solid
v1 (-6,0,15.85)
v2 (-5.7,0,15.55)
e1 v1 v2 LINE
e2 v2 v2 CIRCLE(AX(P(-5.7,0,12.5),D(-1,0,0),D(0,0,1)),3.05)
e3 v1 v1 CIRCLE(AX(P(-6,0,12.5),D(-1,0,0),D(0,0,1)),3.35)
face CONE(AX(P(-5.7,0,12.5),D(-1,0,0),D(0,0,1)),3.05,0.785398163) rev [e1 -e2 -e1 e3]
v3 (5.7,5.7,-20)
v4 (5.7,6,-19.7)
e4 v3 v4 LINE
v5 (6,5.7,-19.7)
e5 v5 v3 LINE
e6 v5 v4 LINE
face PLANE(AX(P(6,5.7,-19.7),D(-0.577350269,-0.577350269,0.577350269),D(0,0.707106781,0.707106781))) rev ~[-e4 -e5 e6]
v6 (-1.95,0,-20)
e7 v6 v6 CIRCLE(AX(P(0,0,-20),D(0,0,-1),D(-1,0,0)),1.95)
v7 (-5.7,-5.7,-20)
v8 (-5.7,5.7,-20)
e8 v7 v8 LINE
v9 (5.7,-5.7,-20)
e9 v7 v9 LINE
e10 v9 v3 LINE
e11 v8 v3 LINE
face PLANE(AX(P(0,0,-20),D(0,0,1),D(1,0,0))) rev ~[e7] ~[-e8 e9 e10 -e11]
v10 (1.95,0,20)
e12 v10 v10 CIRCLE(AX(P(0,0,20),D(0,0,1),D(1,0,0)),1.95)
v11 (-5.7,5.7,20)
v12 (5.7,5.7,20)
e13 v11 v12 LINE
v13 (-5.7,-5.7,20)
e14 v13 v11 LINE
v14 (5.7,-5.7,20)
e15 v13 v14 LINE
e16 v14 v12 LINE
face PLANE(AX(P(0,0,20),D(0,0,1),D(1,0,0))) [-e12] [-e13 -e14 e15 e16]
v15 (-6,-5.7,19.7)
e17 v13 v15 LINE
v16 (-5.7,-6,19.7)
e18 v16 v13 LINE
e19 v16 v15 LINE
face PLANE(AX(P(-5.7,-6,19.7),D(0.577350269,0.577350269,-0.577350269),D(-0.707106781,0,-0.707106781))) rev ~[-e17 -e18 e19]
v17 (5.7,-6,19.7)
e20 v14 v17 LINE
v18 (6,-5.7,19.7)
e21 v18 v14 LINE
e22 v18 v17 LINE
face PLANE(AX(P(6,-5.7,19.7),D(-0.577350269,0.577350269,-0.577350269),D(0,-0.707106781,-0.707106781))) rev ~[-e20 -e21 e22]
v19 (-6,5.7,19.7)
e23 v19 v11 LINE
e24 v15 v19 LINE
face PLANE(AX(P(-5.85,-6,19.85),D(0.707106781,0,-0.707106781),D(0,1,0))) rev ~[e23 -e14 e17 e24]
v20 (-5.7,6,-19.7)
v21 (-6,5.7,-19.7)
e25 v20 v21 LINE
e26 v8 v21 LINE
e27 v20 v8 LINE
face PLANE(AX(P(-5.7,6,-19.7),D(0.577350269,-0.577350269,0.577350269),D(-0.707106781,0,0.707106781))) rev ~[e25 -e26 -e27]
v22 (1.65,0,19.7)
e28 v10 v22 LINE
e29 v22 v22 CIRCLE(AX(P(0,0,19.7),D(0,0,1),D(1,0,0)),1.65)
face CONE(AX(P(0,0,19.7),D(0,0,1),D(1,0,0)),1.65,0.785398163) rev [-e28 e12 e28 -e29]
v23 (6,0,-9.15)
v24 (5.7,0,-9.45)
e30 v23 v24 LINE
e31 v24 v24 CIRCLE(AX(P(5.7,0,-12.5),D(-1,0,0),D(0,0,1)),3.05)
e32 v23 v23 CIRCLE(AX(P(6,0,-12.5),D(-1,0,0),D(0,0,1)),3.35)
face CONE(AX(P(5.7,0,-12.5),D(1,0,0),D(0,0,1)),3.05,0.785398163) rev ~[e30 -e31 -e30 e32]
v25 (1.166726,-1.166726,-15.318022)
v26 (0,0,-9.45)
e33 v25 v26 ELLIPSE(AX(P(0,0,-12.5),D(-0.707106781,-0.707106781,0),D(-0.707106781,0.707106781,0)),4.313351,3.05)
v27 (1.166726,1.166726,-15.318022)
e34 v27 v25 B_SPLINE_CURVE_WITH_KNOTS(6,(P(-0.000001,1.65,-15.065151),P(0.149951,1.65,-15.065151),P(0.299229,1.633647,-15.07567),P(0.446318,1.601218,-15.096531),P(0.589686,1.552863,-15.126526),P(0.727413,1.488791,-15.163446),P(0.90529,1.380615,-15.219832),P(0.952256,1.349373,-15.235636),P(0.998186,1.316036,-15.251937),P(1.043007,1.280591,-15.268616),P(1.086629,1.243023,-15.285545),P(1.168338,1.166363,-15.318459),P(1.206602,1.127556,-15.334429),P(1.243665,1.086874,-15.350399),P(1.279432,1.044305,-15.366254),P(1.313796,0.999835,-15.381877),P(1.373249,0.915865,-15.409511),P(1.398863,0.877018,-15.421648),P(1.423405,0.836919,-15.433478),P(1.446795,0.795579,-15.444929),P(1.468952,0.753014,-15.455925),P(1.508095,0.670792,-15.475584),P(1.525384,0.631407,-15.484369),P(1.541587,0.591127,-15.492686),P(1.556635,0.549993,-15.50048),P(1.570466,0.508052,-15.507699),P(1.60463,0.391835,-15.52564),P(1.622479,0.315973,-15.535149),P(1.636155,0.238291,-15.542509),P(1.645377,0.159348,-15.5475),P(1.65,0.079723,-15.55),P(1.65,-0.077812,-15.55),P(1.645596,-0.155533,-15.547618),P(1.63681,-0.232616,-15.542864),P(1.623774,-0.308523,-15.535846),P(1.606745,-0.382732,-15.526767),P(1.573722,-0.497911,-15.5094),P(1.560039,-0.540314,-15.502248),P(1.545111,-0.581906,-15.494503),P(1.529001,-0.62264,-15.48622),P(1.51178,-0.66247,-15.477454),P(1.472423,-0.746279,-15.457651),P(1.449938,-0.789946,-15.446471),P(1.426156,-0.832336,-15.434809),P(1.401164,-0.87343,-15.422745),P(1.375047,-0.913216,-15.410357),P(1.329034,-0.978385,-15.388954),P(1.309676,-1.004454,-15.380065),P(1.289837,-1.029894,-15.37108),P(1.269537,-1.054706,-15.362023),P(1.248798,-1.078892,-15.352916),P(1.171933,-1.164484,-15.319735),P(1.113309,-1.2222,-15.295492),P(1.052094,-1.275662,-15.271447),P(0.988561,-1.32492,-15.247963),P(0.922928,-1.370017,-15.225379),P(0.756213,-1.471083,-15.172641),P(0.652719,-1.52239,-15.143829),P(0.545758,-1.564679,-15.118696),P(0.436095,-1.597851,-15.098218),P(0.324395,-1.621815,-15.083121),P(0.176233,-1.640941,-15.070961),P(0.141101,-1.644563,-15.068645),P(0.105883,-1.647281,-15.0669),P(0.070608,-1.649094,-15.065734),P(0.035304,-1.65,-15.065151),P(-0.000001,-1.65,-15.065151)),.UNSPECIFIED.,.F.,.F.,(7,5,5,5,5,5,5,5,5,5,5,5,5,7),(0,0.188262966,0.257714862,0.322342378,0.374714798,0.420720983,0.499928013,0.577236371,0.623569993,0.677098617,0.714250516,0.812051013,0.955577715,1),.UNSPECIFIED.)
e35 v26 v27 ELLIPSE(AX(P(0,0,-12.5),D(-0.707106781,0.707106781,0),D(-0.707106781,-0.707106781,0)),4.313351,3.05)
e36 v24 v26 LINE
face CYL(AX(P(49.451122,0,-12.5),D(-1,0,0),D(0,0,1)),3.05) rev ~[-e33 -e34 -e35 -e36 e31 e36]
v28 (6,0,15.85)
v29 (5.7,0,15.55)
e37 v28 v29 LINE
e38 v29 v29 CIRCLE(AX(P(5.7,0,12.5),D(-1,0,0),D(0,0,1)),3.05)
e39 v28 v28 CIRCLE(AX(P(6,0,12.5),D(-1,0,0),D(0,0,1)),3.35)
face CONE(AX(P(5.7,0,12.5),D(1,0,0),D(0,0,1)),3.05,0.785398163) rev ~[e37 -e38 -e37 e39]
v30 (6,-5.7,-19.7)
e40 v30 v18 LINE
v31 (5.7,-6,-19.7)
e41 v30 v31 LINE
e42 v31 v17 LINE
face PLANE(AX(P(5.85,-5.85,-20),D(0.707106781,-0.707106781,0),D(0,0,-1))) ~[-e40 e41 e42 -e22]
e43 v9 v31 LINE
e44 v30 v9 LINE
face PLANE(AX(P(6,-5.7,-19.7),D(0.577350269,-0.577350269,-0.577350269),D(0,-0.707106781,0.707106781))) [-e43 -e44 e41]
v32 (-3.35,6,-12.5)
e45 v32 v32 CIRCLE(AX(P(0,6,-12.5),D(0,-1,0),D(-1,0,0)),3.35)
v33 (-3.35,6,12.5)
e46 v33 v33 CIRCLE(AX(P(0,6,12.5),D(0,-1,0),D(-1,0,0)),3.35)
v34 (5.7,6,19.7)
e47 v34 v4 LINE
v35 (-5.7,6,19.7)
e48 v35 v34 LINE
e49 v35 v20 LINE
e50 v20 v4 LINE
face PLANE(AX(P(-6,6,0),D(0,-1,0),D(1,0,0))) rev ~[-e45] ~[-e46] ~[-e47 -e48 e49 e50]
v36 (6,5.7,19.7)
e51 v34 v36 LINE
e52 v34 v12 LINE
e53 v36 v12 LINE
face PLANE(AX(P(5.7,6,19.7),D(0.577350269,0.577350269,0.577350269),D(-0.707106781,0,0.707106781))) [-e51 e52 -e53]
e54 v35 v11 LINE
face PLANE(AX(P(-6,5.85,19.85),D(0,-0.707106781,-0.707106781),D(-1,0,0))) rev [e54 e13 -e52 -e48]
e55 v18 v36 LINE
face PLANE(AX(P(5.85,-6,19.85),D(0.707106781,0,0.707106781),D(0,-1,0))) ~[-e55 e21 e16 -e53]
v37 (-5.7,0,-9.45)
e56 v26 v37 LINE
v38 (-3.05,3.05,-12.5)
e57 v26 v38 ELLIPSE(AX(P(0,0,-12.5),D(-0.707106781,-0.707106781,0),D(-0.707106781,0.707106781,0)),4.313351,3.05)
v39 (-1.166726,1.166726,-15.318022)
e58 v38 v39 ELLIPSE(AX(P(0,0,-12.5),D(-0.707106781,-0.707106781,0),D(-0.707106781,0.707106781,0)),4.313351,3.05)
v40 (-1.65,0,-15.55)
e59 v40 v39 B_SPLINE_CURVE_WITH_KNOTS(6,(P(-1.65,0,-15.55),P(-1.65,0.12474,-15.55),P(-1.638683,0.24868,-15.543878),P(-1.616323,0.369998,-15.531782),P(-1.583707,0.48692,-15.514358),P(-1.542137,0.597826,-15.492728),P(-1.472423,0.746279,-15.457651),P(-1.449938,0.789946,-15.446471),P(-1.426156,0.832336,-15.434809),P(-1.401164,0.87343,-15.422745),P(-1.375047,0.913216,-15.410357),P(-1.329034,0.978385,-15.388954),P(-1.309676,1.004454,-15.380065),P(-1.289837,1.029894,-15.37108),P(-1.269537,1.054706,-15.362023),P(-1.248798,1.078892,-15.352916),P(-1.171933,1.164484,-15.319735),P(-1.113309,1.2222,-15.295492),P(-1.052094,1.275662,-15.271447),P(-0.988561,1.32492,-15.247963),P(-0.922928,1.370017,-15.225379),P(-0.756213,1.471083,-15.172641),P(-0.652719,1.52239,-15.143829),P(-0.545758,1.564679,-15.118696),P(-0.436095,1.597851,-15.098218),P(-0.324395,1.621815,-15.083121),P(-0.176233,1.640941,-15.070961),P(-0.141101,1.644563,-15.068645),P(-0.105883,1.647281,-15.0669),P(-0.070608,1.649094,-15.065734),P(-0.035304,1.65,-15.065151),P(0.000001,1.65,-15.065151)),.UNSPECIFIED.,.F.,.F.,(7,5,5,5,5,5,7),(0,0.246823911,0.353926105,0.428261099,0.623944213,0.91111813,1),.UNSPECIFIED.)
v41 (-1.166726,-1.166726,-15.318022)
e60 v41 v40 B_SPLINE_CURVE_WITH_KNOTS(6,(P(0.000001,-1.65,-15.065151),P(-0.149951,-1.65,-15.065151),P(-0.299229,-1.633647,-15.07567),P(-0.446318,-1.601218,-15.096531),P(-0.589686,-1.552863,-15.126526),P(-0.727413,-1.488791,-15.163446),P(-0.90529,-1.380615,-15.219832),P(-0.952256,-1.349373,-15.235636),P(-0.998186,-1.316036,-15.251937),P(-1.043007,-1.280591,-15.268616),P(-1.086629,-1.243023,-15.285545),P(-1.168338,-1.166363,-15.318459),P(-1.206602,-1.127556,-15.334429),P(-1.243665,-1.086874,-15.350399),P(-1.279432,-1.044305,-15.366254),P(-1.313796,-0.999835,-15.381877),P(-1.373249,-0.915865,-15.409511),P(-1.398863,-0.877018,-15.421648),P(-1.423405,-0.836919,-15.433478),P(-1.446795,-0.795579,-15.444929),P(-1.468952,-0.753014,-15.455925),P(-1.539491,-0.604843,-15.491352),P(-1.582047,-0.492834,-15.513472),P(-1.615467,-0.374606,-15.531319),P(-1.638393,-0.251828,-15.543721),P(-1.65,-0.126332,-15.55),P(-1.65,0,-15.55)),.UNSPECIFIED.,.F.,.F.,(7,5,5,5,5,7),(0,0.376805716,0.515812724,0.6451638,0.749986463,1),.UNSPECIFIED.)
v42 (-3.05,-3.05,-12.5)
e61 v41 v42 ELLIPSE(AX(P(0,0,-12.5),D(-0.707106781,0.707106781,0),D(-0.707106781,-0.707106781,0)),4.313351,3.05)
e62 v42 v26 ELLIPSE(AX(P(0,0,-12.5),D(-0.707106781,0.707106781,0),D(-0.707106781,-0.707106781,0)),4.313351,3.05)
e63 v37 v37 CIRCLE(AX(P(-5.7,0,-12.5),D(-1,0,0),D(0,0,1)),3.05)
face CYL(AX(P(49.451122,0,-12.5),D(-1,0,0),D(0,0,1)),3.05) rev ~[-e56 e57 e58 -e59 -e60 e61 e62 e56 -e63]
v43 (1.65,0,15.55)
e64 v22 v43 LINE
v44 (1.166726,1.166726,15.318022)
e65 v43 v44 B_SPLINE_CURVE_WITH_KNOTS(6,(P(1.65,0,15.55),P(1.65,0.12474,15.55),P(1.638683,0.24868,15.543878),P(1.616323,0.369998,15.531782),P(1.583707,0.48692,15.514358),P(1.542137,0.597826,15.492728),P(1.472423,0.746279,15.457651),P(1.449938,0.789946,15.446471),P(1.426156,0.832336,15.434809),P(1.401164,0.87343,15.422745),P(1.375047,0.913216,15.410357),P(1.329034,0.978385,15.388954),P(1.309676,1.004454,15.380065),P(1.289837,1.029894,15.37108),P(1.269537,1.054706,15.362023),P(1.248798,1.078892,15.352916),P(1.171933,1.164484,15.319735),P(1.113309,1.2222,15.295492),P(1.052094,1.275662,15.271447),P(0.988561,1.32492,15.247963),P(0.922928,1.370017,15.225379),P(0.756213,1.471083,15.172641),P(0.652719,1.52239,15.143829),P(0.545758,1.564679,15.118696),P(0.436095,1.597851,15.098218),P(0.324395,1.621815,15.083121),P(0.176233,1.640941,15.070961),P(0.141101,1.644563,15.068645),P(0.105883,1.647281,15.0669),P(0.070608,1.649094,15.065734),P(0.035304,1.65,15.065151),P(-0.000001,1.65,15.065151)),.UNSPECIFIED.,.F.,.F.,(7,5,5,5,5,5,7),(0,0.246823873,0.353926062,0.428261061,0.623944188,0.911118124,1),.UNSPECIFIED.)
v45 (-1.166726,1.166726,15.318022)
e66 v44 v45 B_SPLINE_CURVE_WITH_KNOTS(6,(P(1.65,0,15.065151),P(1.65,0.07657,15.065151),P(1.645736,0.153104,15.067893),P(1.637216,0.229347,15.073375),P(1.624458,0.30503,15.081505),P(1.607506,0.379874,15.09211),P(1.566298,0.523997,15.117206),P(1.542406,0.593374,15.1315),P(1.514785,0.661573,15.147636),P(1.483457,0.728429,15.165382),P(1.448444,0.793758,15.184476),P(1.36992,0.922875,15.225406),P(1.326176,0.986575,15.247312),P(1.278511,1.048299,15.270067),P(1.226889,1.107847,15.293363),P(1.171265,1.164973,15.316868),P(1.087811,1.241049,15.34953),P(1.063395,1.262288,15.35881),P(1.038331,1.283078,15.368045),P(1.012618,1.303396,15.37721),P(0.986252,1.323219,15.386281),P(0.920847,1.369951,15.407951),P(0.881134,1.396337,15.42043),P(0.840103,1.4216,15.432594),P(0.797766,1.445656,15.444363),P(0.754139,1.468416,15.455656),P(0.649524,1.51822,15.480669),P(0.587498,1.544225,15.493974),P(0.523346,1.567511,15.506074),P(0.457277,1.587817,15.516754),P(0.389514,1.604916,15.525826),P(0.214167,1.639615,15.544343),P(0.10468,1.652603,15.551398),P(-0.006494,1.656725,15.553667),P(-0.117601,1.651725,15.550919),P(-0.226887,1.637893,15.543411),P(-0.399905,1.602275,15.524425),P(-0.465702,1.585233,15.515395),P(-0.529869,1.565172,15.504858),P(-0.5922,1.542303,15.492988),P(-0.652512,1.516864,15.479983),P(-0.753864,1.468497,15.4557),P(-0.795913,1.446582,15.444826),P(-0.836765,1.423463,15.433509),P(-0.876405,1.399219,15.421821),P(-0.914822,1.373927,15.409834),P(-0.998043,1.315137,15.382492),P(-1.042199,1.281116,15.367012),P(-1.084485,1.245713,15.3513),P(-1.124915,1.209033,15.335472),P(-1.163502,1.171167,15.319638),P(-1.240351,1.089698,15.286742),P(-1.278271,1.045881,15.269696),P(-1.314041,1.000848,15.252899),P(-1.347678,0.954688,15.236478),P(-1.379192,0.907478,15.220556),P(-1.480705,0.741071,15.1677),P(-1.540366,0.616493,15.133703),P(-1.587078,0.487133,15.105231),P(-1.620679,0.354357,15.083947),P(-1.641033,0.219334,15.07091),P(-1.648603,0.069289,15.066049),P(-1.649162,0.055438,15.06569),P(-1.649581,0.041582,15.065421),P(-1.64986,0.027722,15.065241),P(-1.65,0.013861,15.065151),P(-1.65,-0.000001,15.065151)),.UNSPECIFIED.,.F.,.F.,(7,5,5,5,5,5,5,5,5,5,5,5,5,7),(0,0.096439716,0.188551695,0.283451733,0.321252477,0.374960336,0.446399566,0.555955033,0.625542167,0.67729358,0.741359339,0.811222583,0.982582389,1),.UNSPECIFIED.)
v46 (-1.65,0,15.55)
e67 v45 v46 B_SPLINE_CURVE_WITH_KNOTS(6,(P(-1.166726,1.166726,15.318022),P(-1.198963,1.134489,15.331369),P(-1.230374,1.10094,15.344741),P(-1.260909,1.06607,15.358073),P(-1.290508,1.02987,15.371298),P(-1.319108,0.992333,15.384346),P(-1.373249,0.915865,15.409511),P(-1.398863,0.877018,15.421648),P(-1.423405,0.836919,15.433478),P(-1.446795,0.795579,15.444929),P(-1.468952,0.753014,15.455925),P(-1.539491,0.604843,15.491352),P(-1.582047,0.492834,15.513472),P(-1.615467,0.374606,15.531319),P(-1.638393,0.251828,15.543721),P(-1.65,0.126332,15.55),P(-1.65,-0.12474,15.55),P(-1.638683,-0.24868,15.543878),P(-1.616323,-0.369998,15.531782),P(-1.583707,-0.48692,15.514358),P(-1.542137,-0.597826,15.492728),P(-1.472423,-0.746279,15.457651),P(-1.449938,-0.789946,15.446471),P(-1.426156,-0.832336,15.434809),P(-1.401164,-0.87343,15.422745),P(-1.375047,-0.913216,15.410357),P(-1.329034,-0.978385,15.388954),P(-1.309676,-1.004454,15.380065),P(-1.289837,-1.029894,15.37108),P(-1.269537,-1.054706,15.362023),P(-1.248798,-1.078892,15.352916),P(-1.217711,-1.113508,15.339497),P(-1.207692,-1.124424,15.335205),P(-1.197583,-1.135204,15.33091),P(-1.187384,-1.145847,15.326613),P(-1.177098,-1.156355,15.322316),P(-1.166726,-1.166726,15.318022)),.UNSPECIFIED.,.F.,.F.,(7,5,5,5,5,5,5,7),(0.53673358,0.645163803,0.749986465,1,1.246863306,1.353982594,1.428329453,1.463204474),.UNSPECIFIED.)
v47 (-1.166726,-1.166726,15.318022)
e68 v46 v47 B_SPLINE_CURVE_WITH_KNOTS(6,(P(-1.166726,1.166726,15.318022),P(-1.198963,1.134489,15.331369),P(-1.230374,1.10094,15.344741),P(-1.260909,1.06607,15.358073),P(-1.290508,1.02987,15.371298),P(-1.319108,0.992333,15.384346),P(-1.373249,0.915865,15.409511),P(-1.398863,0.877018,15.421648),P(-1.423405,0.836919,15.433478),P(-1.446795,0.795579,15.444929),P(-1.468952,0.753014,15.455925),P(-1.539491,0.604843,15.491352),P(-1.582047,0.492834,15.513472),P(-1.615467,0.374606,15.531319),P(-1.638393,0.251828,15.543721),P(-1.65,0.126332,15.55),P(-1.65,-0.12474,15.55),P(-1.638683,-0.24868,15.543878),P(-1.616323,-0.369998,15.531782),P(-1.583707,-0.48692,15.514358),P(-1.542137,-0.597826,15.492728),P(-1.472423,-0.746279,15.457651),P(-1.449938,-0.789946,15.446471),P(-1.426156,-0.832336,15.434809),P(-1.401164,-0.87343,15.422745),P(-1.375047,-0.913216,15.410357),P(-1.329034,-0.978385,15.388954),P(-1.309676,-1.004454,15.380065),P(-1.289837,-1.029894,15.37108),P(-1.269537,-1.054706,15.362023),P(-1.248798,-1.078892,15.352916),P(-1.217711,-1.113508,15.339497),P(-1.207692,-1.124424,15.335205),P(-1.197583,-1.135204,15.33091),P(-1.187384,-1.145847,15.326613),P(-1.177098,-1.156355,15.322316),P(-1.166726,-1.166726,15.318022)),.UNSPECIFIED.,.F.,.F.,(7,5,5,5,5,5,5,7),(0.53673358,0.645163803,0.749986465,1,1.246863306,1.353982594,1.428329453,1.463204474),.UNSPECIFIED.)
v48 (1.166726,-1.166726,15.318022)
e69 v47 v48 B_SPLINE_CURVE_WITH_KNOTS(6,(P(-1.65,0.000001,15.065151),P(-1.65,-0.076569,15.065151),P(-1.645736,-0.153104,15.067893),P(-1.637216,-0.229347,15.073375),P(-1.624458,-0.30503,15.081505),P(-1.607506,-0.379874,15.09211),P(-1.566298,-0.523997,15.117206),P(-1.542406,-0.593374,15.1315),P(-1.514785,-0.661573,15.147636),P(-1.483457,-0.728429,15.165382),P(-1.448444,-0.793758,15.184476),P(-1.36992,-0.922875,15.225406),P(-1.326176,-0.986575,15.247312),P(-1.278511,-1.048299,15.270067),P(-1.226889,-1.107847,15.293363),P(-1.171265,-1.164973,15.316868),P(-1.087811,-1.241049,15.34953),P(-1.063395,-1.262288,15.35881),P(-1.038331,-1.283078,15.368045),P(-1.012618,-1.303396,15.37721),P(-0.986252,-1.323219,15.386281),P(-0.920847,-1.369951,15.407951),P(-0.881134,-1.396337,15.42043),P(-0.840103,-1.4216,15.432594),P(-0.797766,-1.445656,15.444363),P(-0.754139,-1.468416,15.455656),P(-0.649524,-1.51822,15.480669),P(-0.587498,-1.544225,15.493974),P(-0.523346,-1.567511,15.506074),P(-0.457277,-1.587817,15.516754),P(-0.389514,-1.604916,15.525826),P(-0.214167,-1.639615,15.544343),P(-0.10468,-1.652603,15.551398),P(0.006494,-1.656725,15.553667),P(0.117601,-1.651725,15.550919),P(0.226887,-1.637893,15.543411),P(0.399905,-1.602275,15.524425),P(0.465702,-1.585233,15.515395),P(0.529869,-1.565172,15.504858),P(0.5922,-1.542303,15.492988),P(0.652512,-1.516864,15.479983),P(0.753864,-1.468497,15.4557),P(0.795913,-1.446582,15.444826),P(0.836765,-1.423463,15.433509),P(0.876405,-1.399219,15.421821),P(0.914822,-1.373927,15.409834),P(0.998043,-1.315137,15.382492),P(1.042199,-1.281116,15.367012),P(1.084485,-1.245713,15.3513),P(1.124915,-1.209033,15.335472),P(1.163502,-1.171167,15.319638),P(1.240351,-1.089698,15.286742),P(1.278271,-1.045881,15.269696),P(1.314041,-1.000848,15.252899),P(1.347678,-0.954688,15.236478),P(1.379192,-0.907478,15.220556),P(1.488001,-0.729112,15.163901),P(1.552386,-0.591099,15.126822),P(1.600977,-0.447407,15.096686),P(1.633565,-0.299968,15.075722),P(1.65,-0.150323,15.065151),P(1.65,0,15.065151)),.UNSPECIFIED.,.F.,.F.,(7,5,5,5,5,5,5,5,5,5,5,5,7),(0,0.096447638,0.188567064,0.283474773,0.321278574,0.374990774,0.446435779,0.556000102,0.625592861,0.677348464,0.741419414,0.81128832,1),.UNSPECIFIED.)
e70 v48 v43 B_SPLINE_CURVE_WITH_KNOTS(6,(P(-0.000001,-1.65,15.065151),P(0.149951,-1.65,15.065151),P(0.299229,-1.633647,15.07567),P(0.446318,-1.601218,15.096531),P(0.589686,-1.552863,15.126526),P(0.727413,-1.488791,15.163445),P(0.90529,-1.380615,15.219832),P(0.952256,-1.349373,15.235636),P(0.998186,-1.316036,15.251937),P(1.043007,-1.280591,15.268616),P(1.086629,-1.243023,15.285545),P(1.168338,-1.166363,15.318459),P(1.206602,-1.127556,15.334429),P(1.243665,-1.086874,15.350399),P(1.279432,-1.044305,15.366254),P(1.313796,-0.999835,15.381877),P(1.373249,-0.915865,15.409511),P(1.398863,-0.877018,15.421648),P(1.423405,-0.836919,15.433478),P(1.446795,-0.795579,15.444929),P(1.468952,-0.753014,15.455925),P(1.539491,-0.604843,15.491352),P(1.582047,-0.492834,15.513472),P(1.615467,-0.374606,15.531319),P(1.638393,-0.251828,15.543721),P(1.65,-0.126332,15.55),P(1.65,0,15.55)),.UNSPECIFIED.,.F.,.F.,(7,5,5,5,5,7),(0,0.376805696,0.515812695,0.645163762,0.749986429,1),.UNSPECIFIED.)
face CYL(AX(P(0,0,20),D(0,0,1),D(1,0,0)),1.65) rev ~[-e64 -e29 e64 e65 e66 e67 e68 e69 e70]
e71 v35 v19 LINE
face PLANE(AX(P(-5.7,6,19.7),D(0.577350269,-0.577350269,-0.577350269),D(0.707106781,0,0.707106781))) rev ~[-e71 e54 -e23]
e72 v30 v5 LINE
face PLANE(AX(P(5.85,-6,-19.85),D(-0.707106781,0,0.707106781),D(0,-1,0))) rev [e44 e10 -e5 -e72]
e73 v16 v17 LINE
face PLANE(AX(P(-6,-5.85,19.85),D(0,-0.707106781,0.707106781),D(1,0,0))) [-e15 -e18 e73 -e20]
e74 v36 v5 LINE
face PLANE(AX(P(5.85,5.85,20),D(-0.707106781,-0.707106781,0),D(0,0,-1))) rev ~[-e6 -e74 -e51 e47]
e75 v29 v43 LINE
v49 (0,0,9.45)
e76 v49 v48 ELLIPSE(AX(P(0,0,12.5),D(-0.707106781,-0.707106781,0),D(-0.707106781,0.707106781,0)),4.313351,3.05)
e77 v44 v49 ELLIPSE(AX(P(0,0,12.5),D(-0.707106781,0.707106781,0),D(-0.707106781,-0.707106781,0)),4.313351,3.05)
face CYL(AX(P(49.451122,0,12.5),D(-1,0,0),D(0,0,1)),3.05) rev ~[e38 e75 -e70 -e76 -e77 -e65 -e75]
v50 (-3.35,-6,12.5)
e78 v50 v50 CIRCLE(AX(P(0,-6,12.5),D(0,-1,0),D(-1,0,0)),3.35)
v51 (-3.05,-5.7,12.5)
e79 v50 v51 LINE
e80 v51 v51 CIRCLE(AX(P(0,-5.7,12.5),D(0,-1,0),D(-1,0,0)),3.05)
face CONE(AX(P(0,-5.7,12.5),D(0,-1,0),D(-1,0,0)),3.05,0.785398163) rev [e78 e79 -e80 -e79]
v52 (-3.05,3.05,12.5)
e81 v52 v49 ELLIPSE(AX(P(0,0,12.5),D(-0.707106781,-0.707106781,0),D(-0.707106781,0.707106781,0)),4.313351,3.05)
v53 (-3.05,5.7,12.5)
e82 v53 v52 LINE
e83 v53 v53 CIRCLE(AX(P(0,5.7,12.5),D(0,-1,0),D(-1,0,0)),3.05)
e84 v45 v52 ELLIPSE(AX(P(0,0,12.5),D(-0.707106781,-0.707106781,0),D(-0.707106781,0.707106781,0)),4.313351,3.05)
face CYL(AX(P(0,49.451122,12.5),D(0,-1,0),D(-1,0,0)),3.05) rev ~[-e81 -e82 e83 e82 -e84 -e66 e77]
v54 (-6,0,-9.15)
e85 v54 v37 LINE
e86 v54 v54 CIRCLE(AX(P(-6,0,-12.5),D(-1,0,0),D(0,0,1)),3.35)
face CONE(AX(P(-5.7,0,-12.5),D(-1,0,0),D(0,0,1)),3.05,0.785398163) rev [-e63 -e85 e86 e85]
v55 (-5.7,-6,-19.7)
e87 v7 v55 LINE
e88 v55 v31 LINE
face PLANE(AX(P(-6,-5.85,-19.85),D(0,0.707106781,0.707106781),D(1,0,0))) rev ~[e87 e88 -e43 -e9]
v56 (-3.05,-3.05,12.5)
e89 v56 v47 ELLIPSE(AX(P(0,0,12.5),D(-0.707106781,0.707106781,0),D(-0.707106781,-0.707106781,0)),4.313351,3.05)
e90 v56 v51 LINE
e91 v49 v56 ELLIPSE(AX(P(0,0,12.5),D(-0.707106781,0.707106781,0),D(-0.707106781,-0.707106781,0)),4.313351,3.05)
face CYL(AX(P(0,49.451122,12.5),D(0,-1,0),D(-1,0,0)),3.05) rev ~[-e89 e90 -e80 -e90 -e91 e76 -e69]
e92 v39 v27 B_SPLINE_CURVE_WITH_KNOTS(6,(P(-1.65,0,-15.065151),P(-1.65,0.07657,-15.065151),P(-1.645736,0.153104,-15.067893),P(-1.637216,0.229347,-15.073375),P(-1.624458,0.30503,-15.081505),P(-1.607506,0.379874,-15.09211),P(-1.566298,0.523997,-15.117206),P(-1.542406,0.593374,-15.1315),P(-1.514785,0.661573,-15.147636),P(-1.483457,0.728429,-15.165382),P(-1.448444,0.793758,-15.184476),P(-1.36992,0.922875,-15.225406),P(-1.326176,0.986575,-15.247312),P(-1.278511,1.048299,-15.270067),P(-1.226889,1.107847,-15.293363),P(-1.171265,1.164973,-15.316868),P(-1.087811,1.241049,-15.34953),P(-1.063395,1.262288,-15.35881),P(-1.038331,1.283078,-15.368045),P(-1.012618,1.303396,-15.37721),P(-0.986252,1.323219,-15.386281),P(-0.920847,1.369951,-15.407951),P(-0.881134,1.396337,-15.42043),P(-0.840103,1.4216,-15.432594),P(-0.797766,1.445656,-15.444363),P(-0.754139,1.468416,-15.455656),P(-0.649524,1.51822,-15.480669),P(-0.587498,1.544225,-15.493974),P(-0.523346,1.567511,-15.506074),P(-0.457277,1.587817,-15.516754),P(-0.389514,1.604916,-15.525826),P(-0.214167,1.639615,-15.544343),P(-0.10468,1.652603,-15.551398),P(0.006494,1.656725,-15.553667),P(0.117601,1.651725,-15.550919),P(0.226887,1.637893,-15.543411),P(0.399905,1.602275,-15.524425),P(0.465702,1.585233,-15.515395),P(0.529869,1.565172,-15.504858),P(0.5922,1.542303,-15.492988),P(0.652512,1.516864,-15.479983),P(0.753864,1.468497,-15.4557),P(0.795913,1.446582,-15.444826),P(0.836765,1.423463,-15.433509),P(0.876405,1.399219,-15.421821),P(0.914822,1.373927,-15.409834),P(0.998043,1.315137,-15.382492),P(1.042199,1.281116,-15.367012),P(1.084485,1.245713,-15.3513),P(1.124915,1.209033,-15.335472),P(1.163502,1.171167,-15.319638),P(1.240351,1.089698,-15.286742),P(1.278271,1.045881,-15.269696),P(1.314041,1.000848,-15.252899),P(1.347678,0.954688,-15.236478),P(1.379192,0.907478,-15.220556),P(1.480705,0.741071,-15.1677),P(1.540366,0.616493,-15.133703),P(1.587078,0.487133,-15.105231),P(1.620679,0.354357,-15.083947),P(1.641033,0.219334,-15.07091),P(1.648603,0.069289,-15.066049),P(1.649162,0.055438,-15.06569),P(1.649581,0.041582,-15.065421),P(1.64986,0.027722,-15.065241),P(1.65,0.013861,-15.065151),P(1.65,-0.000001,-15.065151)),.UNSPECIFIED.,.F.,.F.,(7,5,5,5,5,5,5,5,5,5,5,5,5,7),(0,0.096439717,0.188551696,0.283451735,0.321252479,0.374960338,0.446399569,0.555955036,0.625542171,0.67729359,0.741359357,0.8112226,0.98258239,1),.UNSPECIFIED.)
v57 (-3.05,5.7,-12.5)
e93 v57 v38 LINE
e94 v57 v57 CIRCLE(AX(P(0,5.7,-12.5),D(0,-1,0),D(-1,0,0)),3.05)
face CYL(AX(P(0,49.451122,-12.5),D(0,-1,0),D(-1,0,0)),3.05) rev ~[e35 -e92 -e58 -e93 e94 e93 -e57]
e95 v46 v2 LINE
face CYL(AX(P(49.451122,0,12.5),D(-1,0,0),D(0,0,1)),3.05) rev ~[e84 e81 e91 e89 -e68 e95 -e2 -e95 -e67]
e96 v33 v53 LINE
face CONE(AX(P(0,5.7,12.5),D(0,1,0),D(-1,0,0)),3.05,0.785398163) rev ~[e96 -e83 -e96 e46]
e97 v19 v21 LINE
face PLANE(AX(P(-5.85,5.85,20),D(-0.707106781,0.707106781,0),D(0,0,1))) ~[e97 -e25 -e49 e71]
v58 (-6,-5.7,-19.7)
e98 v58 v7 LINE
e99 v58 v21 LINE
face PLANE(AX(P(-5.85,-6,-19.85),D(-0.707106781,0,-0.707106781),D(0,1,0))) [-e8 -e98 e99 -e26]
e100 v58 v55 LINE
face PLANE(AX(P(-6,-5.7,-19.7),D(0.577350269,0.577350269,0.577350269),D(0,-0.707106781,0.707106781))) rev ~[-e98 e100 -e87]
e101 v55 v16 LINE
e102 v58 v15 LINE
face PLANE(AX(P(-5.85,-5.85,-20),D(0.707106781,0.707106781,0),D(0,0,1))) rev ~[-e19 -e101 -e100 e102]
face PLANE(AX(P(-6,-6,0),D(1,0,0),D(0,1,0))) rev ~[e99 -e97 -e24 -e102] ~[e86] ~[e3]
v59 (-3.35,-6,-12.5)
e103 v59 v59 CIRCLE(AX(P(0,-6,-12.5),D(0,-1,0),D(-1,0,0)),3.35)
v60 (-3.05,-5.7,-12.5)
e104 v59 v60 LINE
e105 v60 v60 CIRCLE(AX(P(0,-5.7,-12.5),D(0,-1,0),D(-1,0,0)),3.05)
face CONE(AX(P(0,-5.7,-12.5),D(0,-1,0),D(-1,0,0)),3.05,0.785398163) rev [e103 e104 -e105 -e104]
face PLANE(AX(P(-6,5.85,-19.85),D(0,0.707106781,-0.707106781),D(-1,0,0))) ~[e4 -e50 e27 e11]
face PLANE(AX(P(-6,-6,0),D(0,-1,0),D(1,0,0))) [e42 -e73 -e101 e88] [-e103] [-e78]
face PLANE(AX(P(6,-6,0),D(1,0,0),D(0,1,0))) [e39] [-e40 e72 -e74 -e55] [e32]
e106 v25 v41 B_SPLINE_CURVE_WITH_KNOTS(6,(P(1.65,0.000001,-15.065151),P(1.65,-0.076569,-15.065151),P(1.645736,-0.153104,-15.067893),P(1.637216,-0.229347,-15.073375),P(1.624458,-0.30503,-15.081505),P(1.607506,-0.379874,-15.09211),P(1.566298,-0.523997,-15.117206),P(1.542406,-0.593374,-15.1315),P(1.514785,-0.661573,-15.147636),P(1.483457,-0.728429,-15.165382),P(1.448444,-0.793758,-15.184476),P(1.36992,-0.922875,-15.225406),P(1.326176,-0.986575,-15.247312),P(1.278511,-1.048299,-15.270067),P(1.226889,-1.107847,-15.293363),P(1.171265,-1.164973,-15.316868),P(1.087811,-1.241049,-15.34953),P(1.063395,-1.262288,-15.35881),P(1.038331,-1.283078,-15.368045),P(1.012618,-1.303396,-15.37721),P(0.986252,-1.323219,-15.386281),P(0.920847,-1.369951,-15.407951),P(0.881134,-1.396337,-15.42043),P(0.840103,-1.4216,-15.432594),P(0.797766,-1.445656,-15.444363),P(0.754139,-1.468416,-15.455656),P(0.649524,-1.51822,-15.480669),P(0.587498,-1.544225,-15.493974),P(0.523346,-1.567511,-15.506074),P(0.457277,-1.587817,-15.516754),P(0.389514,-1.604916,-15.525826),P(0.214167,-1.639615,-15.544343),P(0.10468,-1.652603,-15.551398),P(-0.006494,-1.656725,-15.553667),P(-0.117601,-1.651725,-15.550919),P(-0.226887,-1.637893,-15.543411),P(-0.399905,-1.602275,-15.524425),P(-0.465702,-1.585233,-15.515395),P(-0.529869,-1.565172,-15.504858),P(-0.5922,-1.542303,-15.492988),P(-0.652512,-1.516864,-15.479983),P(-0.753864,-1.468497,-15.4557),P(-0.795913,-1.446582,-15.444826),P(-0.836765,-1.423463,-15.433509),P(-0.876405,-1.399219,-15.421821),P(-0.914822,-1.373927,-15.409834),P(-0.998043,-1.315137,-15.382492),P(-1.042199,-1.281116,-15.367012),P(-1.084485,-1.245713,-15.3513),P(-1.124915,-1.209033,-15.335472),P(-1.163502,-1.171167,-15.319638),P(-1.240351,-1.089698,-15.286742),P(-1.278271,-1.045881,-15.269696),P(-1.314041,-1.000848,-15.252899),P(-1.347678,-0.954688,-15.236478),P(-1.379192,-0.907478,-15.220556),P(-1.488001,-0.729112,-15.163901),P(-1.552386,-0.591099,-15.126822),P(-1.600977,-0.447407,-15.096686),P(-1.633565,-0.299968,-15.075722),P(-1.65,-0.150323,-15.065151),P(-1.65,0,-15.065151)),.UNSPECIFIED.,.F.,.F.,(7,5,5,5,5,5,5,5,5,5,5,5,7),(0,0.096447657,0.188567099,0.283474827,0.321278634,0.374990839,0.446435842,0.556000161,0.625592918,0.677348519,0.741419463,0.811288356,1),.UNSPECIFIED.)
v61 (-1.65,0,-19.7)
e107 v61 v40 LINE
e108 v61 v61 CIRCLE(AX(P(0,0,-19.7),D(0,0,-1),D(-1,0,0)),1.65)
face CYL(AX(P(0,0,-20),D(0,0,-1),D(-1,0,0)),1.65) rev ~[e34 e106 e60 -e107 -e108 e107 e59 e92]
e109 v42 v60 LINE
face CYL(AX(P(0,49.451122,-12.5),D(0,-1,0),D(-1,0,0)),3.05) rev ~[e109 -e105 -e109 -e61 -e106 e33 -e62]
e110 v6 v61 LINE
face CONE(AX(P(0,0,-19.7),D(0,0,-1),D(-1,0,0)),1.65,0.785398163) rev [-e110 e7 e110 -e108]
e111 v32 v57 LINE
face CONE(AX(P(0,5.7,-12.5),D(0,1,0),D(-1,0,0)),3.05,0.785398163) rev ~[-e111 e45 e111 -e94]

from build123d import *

# Parameters (mm, degrees)
SKETCH_1_W              = 12
SKETCH_1_H              = 12
EXTRUDE_1_DEPTH         = 20
HOLE_WIZARD_6_1_6_1_1_D = 6.1
HOLE_WIZARD_6_1_6_1_2_D = 6.1
HOLE_WIZARD_M4_1_REACH  = 42.89
HOLE_WIZARD_M4_1_BORE_R = 1.65
HOLE_WIZARD_M4_2_REACH  = 42.89
HOLE_WIZARD_M4_2_BORE_R = 1.65
CHAMFER_1_SIZE          = 0.3


with BuildPart() as part:
    # 草图1 → 凸台-拉伸1 (new, symmetric)
    with BuildSketch(Plane.XY):
        Rectangle(SKETCH_1_W, SKETCH_1_H)
    extrude(amount=EXTRUDE_1_DEPTH, both=True)

    # Ø6.1 (6.1) 直径孔1 (through all)
    with Locations(Plane(origin=(6, 0, 0), x_dir=(0, 0, -1), z_dir=(1, 0, 0))):
        with Locations((-12.5, 0), (12.5, 0)):
            Hole(HOLE_WIZARD_6_1_6_1_1_D / 2)

    # Ø6.1 (6.1) 直径孔2 (through all)
    with Locations(Plane(origin=(0, 6, 0), x_dir=(1, 0, 0), z_dir=(0, 1, 0))):
        with Locations((0, -12.5), (0, 12.5)):
            Hole(HOLE_WIZARD_6_1_6_1_2_D / 2)

    # M4 螺纹孔1 bore → M4 螺纹孔1 (cut, up to next)
    with BuildSketch(Plane.XY.offset(20), mode=Mode.PRIVATE) as hole_wizard_m4_1_sk1:
        Circle(HOLE_WIZARD_M4_1_BORE_R)
    hole_wizard_m4_1_tool1 = extrude(hole_wizard_m4_1_sk1.sketch, amount=-HOLE_WIZARD_M4_1_REACH, mode=Mode.PRIVATE) & part.part
    add(hole_wizard_m4_1_tool1.solids().sort_by_distance((0, 0, 20))[0], mode=Mode.SUBTRACT)

    # M4 螺纹孔2 bore → M4 螺纹孔2 (cut, up to next)
    with BuildSketch(Plane(origin=(0, 0, -20), x_dir=(-1, 0, 0), z_dir=(0, 0, -1)), mode=Mode.PRIVATE) as hole_wizard_m4_2_sk1:
        Circle(HOLE_WIZARD_M4_2_BORE_R)
    hole_wizard_m4_2_tool1 = extrude(hole_wizard_m4_2_sk1.sketch, amount=-HOLE_WIZARD_M4_2_REACH, mode=Mode.PRIVATE) & part.part
    add(hole_wizard_m4_2_tool1.solids().sort_by_distance((0, 0, -20))[0], mode=Mode.SUBTRACT)

    # 倒角1
    chamfer_1_edges = [part.edges().sort_by_distance(p)[0] for p in [
        (-6, 0, 20),
        (6, 0, -15.55),
        (-6, 0, -15.55),
        (0, -6, 20),
        (6, 0, 9.45),
        (-6, 0, 9.45),
        (3.05, -6, -12.5),
        (3.05, 6, -12.5),
        (3.05, -6, 12.5),
        (3.05, 6, 12.5),
        (6, 0, 20),
        (0, -6, -20),
        (-6, 0, -20),
        (-1.65, 0, 20),
        (0, 6, -20),
        (6, 0, -20),
        (1.65, 0, -20),
        (6, -6, 0),
        (-6, -6, 0),
        (-6, 6, 0),
        (6, 6, 0),
        (0, 6, 20),
    ]]
    chamfer(chamfer_1_edges, length=CHAMFER_1_SIZE)


solid = part.part
